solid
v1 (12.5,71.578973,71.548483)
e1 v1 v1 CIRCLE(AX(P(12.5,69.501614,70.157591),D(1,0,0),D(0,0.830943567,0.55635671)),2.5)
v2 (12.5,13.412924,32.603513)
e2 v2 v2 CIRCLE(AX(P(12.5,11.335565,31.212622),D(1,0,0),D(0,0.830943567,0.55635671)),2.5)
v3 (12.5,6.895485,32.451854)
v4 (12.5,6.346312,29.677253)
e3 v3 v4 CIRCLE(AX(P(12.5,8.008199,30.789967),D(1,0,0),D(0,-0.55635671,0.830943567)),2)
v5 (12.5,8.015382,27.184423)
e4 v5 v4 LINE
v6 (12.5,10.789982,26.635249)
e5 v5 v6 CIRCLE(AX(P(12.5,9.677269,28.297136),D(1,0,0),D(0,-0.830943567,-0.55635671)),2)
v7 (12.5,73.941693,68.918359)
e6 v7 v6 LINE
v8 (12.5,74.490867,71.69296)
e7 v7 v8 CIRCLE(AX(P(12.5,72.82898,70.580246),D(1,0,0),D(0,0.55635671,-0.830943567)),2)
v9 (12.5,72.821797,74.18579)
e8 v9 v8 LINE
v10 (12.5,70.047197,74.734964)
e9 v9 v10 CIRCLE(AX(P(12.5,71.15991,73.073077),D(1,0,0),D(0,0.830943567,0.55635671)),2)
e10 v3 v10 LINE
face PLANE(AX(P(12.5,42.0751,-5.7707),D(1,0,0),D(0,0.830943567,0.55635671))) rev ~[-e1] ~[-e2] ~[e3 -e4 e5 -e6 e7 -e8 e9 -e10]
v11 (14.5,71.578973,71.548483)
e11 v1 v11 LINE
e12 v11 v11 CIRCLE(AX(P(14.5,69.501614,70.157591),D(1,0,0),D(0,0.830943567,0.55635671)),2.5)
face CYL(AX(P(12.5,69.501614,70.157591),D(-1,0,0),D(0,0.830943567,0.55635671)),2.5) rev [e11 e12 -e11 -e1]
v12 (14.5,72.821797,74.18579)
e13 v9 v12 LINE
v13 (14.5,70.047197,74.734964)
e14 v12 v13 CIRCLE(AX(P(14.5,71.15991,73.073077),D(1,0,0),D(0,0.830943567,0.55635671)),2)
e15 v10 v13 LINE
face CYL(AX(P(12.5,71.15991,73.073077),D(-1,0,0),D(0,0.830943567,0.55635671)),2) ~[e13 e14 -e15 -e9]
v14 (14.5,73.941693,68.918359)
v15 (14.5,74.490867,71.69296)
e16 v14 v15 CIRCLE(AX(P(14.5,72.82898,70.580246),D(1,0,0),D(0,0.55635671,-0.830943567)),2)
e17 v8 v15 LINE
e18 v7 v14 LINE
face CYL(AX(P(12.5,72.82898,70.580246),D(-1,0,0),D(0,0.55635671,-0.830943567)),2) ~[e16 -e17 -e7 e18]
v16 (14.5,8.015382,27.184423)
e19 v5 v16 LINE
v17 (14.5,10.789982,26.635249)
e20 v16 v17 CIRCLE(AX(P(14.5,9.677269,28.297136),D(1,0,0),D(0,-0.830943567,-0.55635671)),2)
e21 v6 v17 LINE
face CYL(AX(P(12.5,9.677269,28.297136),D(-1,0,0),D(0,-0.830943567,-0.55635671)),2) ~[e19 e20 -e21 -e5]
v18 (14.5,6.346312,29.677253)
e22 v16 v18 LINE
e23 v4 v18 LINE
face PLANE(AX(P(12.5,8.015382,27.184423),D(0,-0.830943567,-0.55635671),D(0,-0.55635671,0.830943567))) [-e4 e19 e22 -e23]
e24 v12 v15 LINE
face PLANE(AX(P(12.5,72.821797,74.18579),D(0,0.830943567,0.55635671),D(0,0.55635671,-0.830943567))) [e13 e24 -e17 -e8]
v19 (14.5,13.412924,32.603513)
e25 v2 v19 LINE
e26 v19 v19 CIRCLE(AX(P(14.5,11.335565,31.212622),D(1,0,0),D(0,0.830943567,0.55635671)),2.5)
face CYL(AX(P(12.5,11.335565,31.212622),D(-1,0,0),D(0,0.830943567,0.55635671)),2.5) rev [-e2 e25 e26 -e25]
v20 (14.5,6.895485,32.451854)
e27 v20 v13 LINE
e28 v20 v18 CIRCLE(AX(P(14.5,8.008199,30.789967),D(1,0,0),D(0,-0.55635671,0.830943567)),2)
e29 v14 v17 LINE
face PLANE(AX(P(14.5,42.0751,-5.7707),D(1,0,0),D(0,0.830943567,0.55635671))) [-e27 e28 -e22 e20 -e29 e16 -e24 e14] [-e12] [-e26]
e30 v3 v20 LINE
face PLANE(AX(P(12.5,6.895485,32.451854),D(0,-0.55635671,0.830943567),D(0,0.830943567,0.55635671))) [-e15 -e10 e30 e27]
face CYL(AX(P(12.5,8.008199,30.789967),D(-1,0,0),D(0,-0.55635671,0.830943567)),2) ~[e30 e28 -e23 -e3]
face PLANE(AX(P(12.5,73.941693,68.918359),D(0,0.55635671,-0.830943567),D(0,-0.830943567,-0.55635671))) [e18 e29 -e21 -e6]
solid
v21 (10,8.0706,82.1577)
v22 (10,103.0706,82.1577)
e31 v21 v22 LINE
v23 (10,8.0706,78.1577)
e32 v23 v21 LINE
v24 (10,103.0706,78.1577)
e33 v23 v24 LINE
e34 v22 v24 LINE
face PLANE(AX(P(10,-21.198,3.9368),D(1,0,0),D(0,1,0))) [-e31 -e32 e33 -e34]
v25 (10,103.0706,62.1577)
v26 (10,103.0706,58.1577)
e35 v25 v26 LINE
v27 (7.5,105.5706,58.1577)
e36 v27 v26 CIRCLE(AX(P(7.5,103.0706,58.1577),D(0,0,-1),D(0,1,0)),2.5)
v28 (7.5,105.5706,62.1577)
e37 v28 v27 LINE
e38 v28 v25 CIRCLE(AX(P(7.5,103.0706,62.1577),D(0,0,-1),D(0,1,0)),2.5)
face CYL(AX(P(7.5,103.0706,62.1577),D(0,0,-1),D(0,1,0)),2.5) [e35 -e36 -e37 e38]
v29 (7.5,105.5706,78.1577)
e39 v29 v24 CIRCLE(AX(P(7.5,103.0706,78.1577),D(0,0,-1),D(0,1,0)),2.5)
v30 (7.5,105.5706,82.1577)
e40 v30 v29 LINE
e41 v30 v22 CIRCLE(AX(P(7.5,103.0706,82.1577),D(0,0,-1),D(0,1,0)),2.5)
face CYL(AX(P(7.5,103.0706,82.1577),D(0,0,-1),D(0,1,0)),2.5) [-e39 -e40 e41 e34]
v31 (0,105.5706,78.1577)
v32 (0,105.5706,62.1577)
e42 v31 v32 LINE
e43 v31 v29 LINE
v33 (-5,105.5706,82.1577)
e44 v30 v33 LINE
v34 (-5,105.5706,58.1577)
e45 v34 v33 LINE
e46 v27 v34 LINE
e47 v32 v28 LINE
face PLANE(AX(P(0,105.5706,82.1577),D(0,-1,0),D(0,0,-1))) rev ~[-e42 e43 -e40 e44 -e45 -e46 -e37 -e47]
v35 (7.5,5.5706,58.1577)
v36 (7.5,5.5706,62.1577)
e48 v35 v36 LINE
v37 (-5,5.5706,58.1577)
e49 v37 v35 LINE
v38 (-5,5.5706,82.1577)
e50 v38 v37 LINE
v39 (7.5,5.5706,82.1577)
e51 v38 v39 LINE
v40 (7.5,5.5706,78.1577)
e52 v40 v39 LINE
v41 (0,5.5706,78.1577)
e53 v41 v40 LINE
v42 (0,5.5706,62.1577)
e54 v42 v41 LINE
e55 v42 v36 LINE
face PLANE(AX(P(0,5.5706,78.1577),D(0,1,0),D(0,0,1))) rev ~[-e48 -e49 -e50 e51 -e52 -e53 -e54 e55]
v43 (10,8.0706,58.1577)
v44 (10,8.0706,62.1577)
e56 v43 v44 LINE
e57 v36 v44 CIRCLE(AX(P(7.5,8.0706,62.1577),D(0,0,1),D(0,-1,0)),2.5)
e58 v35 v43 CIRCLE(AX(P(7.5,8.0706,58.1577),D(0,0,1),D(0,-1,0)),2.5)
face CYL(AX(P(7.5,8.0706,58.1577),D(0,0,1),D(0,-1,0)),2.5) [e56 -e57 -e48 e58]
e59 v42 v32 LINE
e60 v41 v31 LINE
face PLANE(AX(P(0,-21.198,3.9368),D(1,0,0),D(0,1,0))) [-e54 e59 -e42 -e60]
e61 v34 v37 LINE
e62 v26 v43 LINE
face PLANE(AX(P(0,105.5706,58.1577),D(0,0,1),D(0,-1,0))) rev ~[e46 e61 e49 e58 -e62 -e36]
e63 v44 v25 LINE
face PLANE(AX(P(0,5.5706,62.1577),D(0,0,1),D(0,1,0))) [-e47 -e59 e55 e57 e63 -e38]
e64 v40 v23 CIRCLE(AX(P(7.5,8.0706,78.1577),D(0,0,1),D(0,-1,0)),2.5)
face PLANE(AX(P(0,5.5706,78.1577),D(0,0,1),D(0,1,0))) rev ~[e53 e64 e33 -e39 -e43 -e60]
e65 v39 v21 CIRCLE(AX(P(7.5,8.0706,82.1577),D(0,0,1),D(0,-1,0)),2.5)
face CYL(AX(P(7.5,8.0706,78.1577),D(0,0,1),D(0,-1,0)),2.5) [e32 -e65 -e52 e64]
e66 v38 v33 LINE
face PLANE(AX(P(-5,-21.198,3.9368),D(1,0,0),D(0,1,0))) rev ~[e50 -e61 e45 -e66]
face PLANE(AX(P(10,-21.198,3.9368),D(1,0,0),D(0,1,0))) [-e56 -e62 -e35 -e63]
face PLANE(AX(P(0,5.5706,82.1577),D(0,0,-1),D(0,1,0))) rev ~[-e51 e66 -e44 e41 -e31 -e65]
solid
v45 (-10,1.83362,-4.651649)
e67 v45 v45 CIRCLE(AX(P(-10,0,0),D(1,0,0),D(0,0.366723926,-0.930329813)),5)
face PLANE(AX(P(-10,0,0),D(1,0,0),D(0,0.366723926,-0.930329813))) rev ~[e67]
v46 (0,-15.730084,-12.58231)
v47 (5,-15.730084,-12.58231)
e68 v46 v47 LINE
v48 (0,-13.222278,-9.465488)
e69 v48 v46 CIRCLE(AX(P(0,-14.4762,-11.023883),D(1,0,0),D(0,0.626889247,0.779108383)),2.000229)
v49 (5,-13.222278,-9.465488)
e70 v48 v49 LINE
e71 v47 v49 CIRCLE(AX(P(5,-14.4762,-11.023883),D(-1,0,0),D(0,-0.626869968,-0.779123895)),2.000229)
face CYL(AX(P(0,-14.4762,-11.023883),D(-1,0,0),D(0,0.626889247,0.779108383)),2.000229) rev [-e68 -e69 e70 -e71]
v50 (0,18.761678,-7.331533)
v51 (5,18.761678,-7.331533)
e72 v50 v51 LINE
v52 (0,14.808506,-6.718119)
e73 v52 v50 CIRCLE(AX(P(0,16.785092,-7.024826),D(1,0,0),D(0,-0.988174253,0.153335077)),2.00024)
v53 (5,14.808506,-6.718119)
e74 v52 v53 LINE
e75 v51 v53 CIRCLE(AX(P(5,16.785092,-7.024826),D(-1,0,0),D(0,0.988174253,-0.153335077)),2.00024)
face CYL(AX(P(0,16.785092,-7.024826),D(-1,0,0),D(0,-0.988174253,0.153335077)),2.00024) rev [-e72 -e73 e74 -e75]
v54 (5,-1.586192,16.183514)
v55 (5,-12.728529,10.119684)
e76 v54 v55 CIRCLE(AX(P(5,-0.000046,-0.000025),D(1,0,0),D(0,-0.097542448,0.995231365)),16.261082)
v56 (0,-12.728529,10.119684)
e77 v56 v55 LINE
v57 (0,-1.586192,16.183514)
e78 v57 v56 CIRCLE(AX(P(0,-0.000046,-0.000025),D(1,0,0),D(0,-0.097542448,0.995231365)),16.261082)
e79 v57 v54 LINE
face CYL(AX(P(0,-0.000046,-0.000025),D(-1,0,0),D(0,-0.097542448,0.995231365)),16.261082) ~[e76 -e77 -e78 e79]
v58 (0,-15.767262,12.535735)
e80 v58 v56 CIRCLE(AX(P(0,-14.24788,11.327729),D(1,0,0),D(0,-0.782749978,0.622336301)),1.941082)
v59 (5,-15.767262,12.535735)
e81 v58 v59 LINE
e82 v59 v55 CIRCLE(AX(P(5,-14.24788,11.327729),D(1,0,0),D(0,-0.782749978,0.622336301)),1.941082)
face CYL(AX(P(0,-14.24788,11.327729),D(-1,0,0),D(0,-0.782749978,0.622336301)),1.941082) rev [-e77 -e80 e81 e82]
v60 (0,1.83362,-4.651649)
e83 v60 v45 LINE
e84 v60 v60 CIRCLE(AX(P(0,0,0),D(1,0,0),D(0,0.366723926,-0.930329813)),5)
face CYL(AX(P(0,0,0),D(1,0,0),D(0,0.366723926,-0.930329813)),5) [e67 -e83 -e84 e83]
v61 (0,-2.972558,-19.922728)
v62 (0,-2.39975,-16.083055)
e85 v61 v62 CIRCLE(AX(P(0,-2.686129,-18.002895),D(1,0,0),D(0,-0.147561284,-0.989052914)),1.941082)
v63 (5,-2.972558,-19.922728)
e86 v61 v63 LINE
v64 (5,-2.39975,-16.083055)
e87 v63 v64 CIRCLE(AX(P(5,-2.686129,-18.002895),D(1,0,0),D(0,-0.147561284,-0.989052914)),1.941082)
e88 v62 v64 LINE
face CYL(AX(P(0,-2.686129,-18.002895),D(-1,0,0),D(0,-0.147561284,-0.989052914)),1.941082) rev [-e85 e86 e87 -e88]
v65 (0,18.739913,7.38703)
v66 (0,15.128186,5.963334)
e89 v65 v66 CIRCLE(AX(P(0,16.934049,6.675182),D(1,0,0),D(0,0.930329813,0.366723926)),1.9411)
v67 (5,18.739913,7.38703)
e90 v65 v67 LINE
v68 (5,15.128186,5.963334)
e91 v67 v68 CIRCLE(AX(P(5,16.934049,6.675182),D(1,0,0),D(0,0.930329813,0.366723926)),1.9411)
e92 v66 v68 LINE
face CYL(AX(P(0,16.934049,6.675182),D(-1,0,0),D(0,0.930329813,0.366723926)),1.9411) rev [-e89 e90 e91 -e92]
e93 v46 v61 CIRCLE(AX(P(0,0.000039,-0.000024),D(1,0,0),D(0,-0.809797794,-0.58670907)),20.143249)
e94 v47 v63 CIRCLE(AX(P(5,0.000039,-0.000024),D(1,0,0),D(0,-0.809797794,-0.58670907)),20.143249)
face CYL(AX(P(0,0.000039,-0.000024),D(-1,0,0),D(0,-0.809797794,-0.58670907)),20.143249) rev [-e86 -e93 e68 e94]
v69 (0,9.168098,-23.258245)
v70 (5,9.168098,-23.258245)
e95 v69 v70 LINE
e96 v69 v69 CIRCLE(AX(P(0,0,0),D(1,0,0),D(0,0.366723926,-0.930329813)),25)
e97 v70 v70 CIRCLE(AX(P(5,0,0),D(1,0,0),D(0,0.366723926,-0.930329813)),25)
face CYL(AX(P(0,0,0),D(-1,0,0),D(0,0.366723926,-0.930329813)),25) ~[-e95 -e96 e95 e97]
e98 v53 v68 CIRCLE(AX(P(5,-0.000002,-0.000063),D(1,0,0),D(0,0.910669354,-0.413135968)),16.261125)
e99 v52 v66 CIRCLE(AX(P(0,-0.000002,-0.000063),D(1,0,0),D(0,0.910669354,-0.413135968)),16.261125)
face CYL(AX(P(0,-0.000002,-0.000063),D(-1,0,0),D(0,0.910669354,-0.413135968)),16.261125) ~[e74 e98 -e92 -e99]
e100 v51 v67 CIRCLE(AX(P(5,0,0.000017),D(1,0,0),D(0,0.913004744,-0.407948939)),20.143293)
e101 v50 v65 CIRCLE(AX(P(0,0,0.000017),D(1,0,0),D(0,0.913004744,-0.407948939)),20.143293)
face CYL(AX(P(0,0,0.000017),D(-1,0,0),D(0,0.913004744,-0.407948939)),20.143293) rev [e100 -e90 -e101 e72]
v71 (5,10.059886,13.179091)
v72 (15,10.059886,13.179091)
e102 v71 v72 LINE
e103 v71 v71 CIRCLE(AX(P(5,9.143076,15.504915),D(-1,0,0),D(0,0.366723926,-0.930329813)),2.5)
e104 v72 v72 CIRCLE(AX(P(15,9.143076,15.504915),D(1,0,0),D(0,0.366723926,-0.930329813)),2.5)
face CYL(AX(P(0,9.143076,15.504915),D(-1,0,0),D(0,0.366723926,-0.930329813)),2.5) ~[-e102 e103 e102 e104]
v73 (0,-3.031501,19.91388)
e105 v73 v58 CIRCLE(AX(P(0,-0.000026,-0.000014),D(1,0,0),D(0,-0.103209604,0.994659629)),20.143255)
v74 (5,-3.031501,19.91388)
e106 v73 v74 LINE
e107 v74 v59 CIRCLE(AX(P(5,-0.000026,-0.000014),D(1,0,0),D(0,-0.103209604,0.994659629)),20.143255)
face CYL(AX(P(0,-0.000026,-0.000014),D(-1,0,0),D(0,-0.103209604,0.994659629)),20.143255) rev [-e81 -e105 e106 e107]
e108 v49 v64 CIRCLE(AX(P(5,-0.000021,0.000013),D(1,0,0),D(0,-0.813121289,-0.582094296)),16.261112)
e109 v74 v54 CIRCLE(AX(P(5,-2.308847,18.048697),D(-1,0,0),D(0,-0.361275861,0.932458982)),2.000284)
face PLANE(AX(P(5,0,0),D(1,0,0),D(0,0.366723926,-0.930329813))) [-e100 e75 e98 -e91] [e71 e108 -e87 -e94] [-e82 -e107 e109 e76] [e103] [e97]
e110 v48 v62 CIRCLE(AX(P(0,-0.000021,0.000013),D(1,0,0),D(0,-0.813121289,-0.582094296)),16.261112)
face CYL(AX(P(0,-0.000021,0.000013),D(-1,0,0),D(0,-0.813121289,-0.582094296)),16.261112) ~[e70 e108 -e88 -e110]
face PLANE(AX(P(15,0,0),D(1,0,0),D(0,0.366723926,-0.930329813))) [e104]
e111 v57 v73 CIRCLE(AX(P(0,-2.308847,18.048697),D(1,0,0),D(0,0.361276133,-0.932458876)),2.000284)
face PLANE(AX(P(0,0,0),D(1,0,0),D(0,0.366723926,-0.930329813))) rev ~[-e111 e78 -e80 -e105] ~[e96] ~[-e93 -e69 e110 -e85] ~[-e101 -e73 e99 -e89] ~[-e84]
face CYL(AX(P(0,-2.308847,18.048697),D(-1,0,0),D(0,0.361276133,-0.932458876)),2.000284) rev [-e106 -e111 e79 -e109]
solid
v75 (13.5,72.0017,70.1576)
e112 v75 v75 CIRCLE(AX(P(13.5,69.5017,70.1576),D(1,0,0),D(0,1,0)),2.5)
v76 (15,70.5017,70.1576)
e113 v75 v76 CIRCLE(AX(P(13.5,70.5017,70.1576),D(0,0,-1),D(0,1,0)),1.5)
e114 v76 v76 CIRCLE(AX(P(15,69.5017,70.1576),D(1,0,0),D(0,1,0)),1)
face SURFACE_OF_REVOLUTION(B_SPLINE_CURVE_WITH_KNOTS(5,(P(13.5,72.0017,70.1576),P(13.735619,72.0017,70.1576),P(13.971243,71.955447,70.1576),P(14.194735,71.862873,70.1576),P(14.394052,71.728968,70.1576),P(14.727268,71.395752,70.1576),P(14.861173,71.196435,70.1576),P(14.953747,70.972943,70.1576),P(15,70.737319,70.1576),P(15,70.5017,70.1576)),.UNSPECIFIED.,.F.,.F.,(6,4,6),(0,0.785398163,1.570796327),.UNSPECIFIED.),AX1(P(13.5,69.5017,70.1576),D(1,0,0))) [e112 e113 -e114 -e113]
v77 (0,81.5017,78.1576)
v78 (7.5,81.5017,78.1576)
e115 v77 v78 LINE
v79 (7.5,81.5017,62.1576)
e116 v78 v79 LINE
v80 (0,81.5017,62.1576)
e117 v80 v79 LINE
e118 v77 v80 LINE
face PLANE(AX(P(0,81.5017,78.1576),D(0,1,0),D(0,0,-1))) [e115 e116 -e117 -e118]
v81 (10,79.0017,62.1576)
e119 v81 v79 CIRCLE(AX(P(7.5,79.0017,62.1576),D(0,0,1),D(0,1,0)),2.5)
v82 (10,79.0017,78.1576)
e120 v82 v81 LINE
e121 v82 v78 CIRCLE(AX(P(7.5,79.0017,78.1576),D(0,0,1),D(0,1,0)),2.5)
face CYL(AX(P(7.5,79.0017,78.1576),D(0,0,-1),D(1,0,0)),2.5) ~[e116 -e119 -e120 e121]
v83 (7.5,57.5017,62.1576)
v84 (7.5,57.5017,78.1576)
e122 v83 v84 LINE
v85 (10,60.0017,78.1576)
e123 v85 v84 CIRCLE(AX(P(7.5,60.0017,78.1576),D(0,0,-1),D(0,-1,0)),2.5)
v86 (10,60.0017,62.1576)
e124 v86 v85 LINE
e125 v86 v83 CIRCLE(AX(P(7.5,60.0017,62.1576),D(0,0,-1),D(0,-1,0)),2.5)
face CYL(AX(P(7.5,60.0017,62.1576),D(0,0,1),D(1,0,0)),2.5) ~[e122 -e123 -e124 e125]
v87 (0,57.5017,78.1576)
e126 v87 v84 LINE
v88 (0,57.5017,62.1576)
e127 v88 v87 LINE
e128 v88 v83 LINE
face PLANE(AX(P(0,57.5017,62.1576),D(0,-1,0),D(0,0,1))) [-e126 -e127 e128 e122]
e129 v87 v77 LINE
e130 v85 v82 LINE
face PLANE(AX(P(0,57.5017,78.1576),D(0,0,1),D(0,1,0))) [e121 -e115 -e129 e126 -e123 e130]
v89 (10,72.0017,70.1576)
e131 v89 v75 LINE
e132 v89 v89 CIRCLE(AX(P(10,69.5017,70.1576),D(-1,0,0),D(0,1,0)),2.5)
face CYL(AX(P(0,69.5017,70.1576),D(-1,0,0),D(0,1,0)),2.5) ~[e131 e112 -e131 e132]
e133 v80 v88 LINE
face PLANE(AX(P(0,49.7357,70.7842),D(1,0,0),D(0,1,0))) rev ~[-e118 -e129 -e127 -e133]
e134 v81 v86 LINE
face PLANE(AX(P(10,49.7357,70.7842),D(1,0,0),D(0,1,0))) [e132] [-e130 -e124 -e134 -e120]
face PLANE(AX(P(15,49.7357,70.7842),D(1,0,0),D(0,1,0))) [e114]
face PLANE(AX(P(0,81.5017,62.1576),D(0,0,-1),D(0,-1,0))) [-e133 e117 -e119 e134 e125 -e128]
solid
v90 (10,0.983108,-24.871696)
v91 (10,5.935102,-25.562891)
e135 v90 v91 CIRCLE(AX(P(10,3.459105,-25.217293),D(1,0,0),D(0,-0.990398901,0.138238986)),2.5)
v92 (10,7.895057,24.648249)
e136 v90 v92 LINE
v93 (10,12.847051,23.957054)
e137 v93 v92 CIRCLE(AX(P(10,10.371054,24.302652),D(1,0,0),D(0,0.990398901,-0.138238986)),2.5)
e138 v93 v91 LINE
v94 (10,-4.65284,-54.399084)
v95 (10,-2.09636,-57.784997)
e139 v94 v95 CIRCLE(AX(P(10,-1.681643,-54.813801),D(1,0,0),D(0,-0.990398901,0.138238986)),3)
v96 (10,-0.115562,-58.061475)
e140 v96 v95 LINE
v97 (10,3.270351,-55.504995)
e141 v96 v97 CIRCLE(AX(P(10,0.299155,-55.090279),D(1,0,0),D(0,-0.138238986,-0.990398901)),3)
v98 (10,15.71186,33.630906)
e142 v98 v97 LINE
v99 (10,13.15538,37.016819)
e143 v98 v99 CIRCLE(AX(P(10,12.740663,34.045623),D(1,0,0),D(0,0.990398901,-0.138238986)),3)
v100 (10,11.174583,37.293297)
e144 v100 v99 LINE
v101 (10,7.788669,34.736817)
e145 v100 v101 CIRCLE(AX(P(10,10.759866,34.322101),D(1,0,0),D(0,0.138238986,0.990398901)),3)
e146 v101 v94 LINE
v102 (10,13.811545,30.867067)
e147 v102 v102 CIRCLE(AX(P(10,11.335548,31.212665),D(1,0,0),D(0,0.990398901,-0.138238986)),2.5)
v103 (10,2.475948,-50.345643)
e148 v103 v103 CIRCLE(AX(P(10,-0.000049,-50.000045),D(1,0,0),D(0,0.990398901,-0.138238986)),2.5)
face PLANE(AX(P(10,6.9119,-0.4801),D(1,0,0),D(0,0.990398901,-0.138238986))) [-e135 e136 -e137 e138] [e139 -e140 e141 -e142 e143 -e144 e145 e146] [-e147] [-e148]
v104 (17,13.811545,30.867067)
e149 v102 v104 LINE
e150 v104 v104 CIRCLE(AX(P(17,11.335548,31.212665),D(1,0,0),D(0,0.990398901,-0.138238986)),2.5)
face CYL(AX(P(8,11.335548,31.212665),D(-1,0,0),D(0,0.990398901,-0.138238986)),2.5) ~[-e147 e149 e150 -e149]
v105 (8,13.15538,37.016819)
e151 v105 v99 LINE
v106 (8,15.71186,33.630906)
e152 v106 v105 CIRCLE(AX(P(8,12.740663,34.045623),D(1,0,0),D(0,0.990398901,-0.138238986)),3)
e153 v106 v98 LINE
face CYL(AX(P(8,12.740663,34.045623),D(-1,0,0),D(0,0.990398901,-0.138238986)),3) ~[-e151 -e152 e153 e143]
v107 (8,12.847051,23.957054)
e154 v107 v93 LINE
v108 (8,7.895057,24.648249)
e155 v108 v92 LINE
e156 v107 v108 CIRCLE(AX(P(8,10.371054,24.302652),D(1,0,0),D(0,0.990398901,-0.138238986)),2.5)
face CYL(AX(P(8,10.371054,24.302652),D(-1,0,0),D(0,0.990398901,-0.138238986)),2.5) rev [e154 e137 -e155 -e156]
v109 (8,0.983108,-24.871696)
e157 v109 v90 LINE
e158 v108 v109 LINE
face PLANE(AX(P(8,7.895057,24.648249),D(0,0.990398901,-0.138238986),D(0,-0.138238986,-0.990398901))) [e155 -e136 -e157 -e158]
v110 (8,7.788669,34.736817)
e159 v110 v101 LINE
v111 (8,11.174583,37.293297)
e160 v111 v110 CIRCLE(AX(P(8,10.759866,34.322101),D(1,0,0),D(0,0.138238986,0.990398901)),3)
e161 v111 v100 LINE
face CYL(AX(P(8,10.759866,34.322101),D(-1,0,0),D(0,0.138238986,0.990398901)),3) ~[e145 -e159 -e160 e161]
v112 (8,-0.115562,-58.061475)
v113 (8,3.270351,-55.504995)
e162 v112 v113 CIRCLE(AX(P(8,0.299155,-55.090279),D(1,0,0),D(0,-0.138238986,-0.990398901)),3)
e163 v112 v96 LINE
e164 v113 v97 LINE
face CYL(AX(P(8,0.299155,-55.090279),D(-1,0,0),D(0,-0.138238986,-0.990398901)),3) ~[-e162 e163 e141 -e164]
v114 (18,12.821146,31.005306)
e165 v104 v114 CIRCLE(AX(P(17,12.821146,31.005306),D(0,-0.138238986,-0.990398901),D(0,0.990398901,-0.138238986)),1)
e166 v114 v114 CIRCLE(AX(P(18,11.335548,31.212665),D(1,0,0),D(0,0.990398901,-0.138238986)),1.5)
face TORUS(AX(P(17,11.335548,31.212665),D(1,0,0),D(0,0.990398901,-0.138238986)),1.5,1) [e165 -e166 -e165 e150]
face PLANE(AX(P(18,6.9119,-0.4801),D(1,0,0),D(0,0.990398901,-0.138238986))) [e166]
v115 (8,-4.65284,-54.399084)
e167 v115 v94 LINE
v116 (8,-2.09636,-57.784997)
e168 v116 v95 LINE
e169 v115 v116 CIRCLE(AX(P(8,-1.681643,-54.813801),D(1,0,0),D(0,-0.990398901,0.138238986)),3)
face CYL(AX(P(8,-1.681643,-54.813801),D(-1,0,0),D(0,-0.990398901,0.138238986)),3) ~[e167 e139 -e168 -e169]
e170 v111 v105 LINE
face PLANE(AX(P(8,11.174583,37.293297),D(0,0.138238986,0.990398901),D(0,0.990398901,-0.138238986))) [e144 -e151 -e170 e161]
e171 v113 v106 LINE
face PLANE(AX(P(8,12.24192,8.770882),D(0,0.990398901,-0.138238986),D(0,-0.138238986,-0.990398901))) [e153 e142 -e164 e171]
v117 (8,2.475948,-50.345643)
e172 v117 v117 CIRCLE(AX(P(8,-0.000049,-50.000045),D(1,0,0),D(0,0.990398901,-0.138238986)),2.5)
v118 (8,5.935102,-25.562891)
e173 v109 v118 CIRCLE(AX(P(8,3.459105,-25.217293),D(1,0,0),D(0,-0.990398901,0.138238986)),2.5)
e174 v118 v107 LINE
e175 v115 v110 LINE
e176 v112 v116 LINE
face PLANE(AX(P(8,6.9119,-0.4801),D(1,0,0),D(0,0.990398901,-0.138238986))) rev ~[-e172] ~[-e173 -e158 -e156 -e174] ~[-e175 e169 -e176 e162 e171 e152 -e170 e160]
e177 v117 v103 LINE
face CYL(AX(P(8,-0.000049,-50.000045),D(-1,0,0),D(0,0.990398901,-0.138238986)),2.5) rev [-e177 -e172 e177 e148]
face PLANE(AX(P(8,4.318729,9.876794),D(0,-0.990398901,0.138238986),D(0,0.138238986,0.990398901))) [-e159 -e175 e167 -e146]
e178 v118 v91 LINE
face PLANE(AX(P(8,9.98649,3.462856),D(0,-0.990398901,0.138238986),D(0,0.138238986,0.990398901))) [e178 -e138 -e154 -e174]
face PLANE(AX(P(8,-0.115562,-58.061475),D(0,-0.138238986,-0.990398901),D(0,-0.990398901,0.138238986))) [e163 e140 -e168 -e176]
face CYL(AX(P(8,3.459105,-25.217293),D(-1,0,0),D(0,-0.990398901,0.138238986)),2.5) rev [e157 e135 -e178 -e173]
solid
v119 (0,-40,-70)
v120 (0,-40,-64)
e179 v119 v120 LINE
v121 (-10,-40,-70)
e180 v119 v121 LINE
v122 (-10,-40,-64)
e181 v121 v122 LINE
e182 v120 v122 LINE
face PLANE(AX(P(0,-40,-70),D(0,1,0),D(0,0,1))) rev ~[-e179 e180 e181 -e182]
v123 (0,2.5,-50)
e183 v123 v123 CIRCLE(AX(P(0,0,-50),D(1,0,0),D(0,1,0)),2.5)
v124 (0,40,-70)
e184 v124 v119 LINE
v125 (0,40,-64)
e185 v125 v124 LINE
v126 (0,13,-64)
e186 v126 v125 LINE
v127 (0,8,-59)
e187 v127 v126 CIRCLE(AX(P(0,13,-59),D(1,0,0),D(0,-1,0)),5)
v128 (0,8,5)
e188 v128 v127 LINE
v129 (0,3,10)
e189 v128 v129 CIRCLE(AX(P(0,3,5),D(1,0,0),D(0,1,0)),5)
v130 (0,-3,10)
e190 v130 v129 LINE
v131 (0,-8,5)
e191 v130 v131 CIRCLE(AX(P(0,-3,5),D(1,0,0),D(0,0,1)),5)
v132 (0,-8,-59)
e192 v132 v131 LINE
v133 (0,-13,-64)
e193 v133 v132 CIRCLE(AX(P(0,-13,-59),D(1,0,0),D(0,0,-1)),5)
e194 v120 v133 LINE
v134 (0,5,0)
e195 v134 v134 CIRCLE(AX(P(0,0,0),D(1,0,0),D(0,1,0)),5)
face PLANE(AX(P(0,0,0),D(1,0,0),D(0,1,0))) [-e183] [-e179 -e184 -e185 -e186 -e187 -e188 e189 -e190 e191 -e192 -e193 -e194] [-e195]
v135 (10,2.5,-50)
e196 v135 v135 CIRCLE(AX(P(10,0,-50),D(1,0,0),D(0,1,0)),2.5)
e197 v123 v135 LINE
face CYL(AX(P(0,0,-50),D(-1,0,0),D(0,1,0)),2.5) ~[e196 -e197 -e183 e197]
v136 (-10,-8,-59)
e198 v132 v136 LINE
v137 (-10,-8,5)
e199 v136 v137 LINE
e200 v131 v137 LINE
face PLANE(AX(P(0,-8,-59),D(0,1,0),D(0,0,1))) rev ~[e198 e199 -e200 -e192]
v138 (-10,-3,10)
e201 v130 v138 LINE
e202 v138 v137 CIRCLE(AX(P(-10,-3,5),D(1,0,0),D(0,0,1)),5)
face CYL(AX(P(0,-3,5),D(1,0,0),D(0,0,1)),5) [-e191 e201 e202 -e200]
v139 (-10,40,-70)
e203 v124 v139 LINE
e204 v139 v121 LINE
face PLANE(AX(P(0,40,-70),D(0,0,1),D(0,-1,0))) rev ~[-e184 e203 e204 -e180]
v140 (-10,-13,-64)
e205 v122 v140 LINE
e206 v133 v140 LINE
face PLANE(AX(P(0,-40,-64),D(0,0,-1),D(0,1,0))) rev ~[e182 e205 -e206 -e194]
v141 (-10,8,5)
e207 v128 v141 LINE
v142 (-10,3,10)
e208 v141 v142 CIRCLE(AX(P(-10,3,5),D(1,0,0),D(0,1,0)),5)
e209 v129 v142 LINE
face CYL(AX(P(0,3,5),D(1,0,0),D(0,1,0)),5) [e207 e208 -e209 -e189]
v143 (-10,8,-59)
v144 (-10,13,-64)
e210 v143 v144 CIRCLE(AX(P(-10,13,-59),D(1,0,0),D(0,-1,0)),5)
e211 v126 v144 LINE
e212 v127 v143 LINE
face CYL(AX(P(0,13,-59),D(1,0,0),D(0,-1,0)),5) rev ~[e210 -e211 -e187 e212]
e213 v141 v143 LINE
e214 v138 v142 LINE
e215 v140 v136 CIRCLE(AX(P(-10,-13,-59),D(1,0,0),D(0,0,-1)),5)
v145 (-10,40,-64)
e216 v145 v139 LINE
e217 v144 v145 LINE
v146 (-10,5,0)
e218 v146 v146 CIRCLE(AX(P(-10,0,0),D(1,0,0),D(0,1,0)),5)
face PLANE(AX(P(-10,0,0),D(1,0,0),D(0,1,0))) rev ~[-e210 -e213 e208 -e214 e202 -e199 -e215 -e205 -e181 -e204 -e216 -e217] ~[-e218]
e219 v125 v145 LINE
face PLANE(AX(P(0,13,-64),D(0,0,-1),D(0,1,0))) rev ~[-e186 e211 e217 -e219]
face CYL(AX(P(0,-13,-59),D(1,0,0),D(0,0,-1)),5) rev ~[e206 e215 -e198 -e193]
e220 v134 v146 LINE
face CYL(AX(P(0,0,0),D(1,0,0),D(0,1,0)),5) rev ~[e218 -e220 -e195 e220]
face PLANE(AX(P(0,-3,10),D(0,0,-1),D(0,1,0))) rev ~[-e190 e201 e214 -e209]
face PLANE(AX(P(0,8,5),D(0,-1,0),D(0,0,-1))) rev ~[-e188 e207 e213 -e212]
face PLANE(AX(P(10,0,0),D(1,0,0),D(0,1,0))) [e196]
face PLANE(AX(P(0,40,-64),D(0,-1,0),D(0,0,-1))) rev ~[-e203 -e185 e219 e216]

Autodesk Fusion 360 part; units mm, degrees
sketch "Sketch1" plane through (0, 0, 0) normal (1, 0, 0) x (0, 1, 0)
  circle A0 centre (0, 0) radius 25
  arc A1 (11.6807, 11.3131) -> (0, 16.2611) centre (0, 0) ccw
  arc A2 (14.3893, 14.0961) -> (0, 20.1433) centre (0, 0) ccw
  arc A3 (11.6807, 11.3131) -> (13.7011, 14.7659) centre (12.6909, 13.0395) ccw
  arc A4 (0, 20.1433) -> (0, 16.2611) centre (0, 18.2022) ccw
  arc A5 (-15.6377, 4.4592) -> (-19.6382, 4.4826) centre (-17.638, 4.4709) ccw
  arc A6 (-15.6377, 4.4592) -> (-14.0825, -8.1306) centre (0, 0) ccw
  arc A7 (-17.4446, -10.0716) -> (-14.0825, -8.1306) centre (-15.7636, -9.1011) ccw
  arc A8 (-19.4022, 5.4134) -> (-17.4446, -10.0716) centre (0, 0) ccw
  arc A9 (3.9571, -15.7723) -> (5.9371, -19.2484) centre (4.9471, -17.5104) ccw
  arc A10 (3.9571, -15.7723) -> (14.0825, -8.1306) centre (0, 0) ccw
  arc A11 (17.4446, -10.0716) -> (14.0825, -8.1306) centre (15.7636, -9.1011) ccw
  arc A12 (5.0129, -19.5095) -> (17.4446, -10.0716) centre (0, 0) ccw
  circle A13 centre (-11.0717, 14.1921) radius 2.5
  circle A14 centre (0, 0) radius 18 construction
  dimension "d1" = 50
  dimension "d3" = 360
  dimension "d4" = 5
  dimension "d6" = 36
extrude "Extrude1" add sketch "Sketch1" along normal blind 5 contours A0 | A13 makes body 1
extrude "Extrude2" add sketch "Sketch1" along normal blind 15 contours A13 bodies 1
sketch "Sketch2" plane through (0, 0, 0) normal (1, 0, 0) x (0, 1, 0)
  circle A0 centre (0, 0) radius 5
  dimension "d11" = 10
extrude "Extrude3" add sketch "Sketch2" against normal blind 10 bodies 1
sketch "Sketch1 (2)" plane through (0, 0, 0) normal (1, 0, 0) x (0, 1, 0) in component "Component"
  line L0 (-3, 10) -> (3, 10)
  line L1 (8, 5) -> (8, -59)
  line L2 (-8, -59) -> (-8, 5)
  line L3 (40, -64) -> (40, -70)
  line L4 (40, -70) -> (-40, -70)
  line L5 (-40, -70) -> (-40, -64)
  line L6 (-40, -64) -> (-13, -64)
  line L7 (13, -64) -> (40, -64)
  arc A0 (-3, 10) -> (-8, 5) centre (-3, 5) ccw
  arc A1 (8, 5) -> (3, 10) centre (3, 5) ccw
  arc A2 (-13, -64) -> (-8, -59) centre (-13, -59) ccw
  arc A3 (8, -59) -> (13, -64) centre (13, -59) ccw
  circle A4 centre (0, -50) radius 2.5
  circle A5 centre (0, 0) radius 5
  dimension "d14" = 16
  dimension "d15" = 8
  dimension "d16" = 80
  dimension "d17" = 80
  dimension "d18" = 32
  dimension "d19" = 6
  dimension "d20" = 10
  dimension "d21" = 5
  dimension "d24" = 5
  dimension "d25" = 8
  dimension "d26" = 20
  dimension "d71" = 10
  dimension "d88" = 0
  dimension "d89" = 0
  dimension "d90" = 0
  dimension "d91" = 0
extrude "Extrude1'" add sketch "Sketch1 (2)" against normal blind 10 separate body contours L0 L1 L2 L3 L4 L5 L6 L7 A0 A1 A2 A3 | A4 makes body 2 in component "Component"
extrude "Extrude2'" add sketch "Sketch1 (2)" along normal blind 10 contours A4 bodies 2 in component "Component"
sketch "Sketch1 (3)" plane through (0, 0, 0) normal (1, 0, 0) x (0, 1, 0) in component "Component'"
  circle A0 centre (0, -50) radius 2.5
  arc A1 (8, 5) -> (3, 10) centre (3, 5) ccw
  line L0 (3, 10) -> (-3, 10)
  arc A2 (-3, 10) -> (-8, 5) centre (-3, 5) ccw
  line L1 (-8, 5) -> (-8, -59)
  arc A3 (-13, -64) -> (-8, -59) centre (-13, -59) ccw
  line L2 (-13, -64) -> (-40, -64)
  line L3 (-40, -64) -> (-40, -70)
  line L4 (-40, -70) -> (40, -70)
  line L5 (40, -70) -> (40, -64)
  line L6 (40, -64) -> (13, -64)
  arc A4 (8, -59) -> (13, -64) centre (13, -59) ccw
  line L7 (8, -59) -> (8, 5)
  line L8 (-1, 38) -> (1, 38)
  line L9 (4, 35) -> (4, -55)
  line L10 (1, -58) -> (-1, -58)
  line L11 (-4, -55) -> (-4, 35)
  arc A5 (-1, 38) -> (-4, 35) centre (-1, 35) ccw
  arc A6 (4, 35) -> (1, 38) centre (1, 35) ccw
  arc A7 (-4, -55) -> (-1, -58) centre (-1, -55) ccw
  arc A8 (1, -58) -> (4, -55) centre (1, -55) ccw
  circle A9 centre (0, -50) radius 2.5
  line L12 (2.5, -24.977) -> (2.5, 25.023)
  arc A10 (2.5, 25.023) -> (-2.5, 25.023) centre (0, 25.023) ccw
  line L13 (-2.5, 25.023) -> (-2.5, -24.977)
  arc A11 (-2.5, -24.977) -> (2.5, -24.977) centre (0, -24.977) ccw
  line L14 (0, -24.977) -> (0, 25.023) construction
  circle A12 centre (0, 32) radius 2.5
  circle A13 centre (0, 0) radius 5
  dimension "d29" = 8
  dimension "d30" = 96
  dimension "d31" = 12
  dimension "d32" = 4
  dimension "d33" = 3
  dimension "d34" = 5
  dimension "d35" = 4
  dimension "d36" = 50
  dimension "d37" = 5
  dimension "d38" = 6
  dimension "d84" = 0
  dimension "d85" = 0
  dimension "d86" = 0
  dimension "d87" = 0
extrude "Extrude1''" add sketch "Sketch1 (3)" along normal blind 2 separate body contours A1 L0 L9 L12 A13 | A1 L0 A2 L8 L9 L11 A5 A6 L12 A10 L13 | L9 L12 A13 | L9 L10 L11 A7 A8 L12 L13 A11 A13 | L0 A2 L11 L13 A13 | L11 L13 A13 makes body 3 in component "Component'"
extrude "Extrude2''" add sketch "Sketch1 (3)" along normal blind 10 contours A12 bodies 3 in component "Component'"
fillet "Fillet1" radius 1 1 edges at (10, -2.3308, 31.096) on bodies 3 in component "Component'"
sketch "Sketch1 (4)" plane through (0, 0, 0) normal (1, 0, 0) x (0, 1, 0) in component "Component''"
  line L0 (-7.9669, 51.3332) -> (68.0331, 51.3332)
  line L1 (70.0331, 49.3332) -> (70.0331, 46.3332)
  line L2 (68.0331, 44.3332) -> (-7.9669, 44.3332)
  line L3 (-9.9669, 46.3332) -> (-9.9669, 49.3332)
  circle A0 centre (-4.9669, 47.8332) radius 2.5
  circle A1 centre (65.0331, 47.8332) radius 2.5
  line L4 (-9.9669, 47.8332) -> (70.0331, 47.8332) construction
  arc A2 (-7.9669, 51.3332) -> (-9.9669, 49.3332) centre (-7.9669, 49.3332) ccw
  arc A3 (-9.9669, 46.3332) -> (-7.9669, 44.3332) centre (-7.9669, 46.3332) ccw
  arc A4 (68.0331, 44.3332) -> (70.0331, 46.3332) centre (68.0331, 46.3332) ccw
  arc A5 (70.0331, 49.3332) -> (68.0331, 51.3332) centre (68.0331, 49.3332) ccw
  dimension "d44" = 80
  dimension "d45" = 7
  dimension "d46" = 5
  dimension "d47" = 5
  dimension "d48" = 5
  dimension "d49" = 5
  dimension "d50" = 2
extrude "Extrude1'''" add sketch "Sketch1 (4)" along normal blind 2 separate body makes body 4 in component "Component''"
sketch "Sketch1 (5)" plane through (0, 0, 0) normal (1, 0, 0) x (0, 1, 0) in component "Component'''"
  line L0 (26.7686, 78.2209) -> (126.7686, 78.2209)
  line L1 (126.7686, 78.2209) -> (126.7686, 54.2209)
  line L2 (126.7686, 54.2209) -> (26.7686, 54.2209)
  line L3 (26.7686, 54.2209) -> (26.7686, 78.2209)
  line L4 (26.7686, 74.2209) -> (126.7686, 74.2209)
  line L5 (26.7686, 58.2209) -> (126.7686, 58.2209)
  dimension "d53" = 100
  dimension "d54" = 24
  dimension "d55" = 4
  dimension "d56" = 4
extrude "Extrude1''''" add sketch "Sketch1 (5)" against normal blind 5 separate body makes body 5 in component "Component'''"
extrude "Extrude2'''" add sketch "Sketch1 (5)" along normal blind 10 contours L0 L1 L3 L4 | L1 L2 L3 L5 bodies 5 in component "Component'''"
fillet "Fillet1'" radius 2.5 4 edges at (10, 26.7686, 76.2209) (10, 26.7686, 56.2209) (10, 126.7686, 76.2209) (10, 126.7686, 56.2209) on bodies 5 in component "Component'''"
sketch "Sketch1 (6)" plane through (0, 76.7686, 66.2209) normal (1, 0, 0) x (0, 1, 0) in component "Component''''"
  line L0 (7.766, 7.3734) -> (31.766, 7.3734)
  line L1 (31.766, 7.3734) -> (31.766, -8.6266)
  line L2 (31.766, -8.6266) -> (7.766, -8.6266)
  line L3 (7.766, -8.6266) -> (7.766, 7.3734)
  circle A0 centre (19.766, -0.6266) radius 2.5
  dimension "d62" = 16
  dimension "d63" = 24
  dimension "d64" = 5
extrude "Extrude1'''''" add sketch "Sketch1 (6)" along normal blind 10 separate body contours L0 L1 L2 L3 | A0 makes body 6 in component "Component''''"
extrude "Extrude2''''" add sketch "Sketch1 (6)" along normal blind 15 contours A0 bodies 6 in component "Component''''"
fillet "Fillet1''" radius 1.5 1 edges at (15, 94.2037, 64.6903) on bodies 6 in component "Component''''"
fillet "Fillet2" radius 2.5 2 edges at (10, 84.5346, 65.5943) (10, 108.5346, 65.5943) on bodies 6 in component "Component''''"
copy_body "Body->Comp1" bodies 1 removing the originals makes body 7 in component "Component'''''"
component "Component" placed x (1, 0, 0) y (0, 1, 0) z (0, 0, 1) at (0, 0, 0)
component "Component'" placed x (1, 0, 0) y (0, 0.990399, -0.138239) z (0, 0.138239, 0.990399) at (8, 6.9119, -0.4801)
component "Component''" placed x (1, 0, 0) y (0, 0.830944, 0.556357) z (0, -0.556357, 0.830944) at (12.5, 42.0751, -5.7707)
component "Component'''" placed x (1, 0, 0) y (0, 1, 0) z (0, 0, 1) at (0, -21.198, 3.9368)
component "Component''''" placed x (1, 0, 0) y (0, 1, 0) z (0, 0, 1) at (0, -27.0329, 4.5633)
component "Component'''''" placed x (1, 0, 0) y (0, 0.366724, -0.93033) z (0, 0.93033, 0.366724) at (0, 0, 0)
